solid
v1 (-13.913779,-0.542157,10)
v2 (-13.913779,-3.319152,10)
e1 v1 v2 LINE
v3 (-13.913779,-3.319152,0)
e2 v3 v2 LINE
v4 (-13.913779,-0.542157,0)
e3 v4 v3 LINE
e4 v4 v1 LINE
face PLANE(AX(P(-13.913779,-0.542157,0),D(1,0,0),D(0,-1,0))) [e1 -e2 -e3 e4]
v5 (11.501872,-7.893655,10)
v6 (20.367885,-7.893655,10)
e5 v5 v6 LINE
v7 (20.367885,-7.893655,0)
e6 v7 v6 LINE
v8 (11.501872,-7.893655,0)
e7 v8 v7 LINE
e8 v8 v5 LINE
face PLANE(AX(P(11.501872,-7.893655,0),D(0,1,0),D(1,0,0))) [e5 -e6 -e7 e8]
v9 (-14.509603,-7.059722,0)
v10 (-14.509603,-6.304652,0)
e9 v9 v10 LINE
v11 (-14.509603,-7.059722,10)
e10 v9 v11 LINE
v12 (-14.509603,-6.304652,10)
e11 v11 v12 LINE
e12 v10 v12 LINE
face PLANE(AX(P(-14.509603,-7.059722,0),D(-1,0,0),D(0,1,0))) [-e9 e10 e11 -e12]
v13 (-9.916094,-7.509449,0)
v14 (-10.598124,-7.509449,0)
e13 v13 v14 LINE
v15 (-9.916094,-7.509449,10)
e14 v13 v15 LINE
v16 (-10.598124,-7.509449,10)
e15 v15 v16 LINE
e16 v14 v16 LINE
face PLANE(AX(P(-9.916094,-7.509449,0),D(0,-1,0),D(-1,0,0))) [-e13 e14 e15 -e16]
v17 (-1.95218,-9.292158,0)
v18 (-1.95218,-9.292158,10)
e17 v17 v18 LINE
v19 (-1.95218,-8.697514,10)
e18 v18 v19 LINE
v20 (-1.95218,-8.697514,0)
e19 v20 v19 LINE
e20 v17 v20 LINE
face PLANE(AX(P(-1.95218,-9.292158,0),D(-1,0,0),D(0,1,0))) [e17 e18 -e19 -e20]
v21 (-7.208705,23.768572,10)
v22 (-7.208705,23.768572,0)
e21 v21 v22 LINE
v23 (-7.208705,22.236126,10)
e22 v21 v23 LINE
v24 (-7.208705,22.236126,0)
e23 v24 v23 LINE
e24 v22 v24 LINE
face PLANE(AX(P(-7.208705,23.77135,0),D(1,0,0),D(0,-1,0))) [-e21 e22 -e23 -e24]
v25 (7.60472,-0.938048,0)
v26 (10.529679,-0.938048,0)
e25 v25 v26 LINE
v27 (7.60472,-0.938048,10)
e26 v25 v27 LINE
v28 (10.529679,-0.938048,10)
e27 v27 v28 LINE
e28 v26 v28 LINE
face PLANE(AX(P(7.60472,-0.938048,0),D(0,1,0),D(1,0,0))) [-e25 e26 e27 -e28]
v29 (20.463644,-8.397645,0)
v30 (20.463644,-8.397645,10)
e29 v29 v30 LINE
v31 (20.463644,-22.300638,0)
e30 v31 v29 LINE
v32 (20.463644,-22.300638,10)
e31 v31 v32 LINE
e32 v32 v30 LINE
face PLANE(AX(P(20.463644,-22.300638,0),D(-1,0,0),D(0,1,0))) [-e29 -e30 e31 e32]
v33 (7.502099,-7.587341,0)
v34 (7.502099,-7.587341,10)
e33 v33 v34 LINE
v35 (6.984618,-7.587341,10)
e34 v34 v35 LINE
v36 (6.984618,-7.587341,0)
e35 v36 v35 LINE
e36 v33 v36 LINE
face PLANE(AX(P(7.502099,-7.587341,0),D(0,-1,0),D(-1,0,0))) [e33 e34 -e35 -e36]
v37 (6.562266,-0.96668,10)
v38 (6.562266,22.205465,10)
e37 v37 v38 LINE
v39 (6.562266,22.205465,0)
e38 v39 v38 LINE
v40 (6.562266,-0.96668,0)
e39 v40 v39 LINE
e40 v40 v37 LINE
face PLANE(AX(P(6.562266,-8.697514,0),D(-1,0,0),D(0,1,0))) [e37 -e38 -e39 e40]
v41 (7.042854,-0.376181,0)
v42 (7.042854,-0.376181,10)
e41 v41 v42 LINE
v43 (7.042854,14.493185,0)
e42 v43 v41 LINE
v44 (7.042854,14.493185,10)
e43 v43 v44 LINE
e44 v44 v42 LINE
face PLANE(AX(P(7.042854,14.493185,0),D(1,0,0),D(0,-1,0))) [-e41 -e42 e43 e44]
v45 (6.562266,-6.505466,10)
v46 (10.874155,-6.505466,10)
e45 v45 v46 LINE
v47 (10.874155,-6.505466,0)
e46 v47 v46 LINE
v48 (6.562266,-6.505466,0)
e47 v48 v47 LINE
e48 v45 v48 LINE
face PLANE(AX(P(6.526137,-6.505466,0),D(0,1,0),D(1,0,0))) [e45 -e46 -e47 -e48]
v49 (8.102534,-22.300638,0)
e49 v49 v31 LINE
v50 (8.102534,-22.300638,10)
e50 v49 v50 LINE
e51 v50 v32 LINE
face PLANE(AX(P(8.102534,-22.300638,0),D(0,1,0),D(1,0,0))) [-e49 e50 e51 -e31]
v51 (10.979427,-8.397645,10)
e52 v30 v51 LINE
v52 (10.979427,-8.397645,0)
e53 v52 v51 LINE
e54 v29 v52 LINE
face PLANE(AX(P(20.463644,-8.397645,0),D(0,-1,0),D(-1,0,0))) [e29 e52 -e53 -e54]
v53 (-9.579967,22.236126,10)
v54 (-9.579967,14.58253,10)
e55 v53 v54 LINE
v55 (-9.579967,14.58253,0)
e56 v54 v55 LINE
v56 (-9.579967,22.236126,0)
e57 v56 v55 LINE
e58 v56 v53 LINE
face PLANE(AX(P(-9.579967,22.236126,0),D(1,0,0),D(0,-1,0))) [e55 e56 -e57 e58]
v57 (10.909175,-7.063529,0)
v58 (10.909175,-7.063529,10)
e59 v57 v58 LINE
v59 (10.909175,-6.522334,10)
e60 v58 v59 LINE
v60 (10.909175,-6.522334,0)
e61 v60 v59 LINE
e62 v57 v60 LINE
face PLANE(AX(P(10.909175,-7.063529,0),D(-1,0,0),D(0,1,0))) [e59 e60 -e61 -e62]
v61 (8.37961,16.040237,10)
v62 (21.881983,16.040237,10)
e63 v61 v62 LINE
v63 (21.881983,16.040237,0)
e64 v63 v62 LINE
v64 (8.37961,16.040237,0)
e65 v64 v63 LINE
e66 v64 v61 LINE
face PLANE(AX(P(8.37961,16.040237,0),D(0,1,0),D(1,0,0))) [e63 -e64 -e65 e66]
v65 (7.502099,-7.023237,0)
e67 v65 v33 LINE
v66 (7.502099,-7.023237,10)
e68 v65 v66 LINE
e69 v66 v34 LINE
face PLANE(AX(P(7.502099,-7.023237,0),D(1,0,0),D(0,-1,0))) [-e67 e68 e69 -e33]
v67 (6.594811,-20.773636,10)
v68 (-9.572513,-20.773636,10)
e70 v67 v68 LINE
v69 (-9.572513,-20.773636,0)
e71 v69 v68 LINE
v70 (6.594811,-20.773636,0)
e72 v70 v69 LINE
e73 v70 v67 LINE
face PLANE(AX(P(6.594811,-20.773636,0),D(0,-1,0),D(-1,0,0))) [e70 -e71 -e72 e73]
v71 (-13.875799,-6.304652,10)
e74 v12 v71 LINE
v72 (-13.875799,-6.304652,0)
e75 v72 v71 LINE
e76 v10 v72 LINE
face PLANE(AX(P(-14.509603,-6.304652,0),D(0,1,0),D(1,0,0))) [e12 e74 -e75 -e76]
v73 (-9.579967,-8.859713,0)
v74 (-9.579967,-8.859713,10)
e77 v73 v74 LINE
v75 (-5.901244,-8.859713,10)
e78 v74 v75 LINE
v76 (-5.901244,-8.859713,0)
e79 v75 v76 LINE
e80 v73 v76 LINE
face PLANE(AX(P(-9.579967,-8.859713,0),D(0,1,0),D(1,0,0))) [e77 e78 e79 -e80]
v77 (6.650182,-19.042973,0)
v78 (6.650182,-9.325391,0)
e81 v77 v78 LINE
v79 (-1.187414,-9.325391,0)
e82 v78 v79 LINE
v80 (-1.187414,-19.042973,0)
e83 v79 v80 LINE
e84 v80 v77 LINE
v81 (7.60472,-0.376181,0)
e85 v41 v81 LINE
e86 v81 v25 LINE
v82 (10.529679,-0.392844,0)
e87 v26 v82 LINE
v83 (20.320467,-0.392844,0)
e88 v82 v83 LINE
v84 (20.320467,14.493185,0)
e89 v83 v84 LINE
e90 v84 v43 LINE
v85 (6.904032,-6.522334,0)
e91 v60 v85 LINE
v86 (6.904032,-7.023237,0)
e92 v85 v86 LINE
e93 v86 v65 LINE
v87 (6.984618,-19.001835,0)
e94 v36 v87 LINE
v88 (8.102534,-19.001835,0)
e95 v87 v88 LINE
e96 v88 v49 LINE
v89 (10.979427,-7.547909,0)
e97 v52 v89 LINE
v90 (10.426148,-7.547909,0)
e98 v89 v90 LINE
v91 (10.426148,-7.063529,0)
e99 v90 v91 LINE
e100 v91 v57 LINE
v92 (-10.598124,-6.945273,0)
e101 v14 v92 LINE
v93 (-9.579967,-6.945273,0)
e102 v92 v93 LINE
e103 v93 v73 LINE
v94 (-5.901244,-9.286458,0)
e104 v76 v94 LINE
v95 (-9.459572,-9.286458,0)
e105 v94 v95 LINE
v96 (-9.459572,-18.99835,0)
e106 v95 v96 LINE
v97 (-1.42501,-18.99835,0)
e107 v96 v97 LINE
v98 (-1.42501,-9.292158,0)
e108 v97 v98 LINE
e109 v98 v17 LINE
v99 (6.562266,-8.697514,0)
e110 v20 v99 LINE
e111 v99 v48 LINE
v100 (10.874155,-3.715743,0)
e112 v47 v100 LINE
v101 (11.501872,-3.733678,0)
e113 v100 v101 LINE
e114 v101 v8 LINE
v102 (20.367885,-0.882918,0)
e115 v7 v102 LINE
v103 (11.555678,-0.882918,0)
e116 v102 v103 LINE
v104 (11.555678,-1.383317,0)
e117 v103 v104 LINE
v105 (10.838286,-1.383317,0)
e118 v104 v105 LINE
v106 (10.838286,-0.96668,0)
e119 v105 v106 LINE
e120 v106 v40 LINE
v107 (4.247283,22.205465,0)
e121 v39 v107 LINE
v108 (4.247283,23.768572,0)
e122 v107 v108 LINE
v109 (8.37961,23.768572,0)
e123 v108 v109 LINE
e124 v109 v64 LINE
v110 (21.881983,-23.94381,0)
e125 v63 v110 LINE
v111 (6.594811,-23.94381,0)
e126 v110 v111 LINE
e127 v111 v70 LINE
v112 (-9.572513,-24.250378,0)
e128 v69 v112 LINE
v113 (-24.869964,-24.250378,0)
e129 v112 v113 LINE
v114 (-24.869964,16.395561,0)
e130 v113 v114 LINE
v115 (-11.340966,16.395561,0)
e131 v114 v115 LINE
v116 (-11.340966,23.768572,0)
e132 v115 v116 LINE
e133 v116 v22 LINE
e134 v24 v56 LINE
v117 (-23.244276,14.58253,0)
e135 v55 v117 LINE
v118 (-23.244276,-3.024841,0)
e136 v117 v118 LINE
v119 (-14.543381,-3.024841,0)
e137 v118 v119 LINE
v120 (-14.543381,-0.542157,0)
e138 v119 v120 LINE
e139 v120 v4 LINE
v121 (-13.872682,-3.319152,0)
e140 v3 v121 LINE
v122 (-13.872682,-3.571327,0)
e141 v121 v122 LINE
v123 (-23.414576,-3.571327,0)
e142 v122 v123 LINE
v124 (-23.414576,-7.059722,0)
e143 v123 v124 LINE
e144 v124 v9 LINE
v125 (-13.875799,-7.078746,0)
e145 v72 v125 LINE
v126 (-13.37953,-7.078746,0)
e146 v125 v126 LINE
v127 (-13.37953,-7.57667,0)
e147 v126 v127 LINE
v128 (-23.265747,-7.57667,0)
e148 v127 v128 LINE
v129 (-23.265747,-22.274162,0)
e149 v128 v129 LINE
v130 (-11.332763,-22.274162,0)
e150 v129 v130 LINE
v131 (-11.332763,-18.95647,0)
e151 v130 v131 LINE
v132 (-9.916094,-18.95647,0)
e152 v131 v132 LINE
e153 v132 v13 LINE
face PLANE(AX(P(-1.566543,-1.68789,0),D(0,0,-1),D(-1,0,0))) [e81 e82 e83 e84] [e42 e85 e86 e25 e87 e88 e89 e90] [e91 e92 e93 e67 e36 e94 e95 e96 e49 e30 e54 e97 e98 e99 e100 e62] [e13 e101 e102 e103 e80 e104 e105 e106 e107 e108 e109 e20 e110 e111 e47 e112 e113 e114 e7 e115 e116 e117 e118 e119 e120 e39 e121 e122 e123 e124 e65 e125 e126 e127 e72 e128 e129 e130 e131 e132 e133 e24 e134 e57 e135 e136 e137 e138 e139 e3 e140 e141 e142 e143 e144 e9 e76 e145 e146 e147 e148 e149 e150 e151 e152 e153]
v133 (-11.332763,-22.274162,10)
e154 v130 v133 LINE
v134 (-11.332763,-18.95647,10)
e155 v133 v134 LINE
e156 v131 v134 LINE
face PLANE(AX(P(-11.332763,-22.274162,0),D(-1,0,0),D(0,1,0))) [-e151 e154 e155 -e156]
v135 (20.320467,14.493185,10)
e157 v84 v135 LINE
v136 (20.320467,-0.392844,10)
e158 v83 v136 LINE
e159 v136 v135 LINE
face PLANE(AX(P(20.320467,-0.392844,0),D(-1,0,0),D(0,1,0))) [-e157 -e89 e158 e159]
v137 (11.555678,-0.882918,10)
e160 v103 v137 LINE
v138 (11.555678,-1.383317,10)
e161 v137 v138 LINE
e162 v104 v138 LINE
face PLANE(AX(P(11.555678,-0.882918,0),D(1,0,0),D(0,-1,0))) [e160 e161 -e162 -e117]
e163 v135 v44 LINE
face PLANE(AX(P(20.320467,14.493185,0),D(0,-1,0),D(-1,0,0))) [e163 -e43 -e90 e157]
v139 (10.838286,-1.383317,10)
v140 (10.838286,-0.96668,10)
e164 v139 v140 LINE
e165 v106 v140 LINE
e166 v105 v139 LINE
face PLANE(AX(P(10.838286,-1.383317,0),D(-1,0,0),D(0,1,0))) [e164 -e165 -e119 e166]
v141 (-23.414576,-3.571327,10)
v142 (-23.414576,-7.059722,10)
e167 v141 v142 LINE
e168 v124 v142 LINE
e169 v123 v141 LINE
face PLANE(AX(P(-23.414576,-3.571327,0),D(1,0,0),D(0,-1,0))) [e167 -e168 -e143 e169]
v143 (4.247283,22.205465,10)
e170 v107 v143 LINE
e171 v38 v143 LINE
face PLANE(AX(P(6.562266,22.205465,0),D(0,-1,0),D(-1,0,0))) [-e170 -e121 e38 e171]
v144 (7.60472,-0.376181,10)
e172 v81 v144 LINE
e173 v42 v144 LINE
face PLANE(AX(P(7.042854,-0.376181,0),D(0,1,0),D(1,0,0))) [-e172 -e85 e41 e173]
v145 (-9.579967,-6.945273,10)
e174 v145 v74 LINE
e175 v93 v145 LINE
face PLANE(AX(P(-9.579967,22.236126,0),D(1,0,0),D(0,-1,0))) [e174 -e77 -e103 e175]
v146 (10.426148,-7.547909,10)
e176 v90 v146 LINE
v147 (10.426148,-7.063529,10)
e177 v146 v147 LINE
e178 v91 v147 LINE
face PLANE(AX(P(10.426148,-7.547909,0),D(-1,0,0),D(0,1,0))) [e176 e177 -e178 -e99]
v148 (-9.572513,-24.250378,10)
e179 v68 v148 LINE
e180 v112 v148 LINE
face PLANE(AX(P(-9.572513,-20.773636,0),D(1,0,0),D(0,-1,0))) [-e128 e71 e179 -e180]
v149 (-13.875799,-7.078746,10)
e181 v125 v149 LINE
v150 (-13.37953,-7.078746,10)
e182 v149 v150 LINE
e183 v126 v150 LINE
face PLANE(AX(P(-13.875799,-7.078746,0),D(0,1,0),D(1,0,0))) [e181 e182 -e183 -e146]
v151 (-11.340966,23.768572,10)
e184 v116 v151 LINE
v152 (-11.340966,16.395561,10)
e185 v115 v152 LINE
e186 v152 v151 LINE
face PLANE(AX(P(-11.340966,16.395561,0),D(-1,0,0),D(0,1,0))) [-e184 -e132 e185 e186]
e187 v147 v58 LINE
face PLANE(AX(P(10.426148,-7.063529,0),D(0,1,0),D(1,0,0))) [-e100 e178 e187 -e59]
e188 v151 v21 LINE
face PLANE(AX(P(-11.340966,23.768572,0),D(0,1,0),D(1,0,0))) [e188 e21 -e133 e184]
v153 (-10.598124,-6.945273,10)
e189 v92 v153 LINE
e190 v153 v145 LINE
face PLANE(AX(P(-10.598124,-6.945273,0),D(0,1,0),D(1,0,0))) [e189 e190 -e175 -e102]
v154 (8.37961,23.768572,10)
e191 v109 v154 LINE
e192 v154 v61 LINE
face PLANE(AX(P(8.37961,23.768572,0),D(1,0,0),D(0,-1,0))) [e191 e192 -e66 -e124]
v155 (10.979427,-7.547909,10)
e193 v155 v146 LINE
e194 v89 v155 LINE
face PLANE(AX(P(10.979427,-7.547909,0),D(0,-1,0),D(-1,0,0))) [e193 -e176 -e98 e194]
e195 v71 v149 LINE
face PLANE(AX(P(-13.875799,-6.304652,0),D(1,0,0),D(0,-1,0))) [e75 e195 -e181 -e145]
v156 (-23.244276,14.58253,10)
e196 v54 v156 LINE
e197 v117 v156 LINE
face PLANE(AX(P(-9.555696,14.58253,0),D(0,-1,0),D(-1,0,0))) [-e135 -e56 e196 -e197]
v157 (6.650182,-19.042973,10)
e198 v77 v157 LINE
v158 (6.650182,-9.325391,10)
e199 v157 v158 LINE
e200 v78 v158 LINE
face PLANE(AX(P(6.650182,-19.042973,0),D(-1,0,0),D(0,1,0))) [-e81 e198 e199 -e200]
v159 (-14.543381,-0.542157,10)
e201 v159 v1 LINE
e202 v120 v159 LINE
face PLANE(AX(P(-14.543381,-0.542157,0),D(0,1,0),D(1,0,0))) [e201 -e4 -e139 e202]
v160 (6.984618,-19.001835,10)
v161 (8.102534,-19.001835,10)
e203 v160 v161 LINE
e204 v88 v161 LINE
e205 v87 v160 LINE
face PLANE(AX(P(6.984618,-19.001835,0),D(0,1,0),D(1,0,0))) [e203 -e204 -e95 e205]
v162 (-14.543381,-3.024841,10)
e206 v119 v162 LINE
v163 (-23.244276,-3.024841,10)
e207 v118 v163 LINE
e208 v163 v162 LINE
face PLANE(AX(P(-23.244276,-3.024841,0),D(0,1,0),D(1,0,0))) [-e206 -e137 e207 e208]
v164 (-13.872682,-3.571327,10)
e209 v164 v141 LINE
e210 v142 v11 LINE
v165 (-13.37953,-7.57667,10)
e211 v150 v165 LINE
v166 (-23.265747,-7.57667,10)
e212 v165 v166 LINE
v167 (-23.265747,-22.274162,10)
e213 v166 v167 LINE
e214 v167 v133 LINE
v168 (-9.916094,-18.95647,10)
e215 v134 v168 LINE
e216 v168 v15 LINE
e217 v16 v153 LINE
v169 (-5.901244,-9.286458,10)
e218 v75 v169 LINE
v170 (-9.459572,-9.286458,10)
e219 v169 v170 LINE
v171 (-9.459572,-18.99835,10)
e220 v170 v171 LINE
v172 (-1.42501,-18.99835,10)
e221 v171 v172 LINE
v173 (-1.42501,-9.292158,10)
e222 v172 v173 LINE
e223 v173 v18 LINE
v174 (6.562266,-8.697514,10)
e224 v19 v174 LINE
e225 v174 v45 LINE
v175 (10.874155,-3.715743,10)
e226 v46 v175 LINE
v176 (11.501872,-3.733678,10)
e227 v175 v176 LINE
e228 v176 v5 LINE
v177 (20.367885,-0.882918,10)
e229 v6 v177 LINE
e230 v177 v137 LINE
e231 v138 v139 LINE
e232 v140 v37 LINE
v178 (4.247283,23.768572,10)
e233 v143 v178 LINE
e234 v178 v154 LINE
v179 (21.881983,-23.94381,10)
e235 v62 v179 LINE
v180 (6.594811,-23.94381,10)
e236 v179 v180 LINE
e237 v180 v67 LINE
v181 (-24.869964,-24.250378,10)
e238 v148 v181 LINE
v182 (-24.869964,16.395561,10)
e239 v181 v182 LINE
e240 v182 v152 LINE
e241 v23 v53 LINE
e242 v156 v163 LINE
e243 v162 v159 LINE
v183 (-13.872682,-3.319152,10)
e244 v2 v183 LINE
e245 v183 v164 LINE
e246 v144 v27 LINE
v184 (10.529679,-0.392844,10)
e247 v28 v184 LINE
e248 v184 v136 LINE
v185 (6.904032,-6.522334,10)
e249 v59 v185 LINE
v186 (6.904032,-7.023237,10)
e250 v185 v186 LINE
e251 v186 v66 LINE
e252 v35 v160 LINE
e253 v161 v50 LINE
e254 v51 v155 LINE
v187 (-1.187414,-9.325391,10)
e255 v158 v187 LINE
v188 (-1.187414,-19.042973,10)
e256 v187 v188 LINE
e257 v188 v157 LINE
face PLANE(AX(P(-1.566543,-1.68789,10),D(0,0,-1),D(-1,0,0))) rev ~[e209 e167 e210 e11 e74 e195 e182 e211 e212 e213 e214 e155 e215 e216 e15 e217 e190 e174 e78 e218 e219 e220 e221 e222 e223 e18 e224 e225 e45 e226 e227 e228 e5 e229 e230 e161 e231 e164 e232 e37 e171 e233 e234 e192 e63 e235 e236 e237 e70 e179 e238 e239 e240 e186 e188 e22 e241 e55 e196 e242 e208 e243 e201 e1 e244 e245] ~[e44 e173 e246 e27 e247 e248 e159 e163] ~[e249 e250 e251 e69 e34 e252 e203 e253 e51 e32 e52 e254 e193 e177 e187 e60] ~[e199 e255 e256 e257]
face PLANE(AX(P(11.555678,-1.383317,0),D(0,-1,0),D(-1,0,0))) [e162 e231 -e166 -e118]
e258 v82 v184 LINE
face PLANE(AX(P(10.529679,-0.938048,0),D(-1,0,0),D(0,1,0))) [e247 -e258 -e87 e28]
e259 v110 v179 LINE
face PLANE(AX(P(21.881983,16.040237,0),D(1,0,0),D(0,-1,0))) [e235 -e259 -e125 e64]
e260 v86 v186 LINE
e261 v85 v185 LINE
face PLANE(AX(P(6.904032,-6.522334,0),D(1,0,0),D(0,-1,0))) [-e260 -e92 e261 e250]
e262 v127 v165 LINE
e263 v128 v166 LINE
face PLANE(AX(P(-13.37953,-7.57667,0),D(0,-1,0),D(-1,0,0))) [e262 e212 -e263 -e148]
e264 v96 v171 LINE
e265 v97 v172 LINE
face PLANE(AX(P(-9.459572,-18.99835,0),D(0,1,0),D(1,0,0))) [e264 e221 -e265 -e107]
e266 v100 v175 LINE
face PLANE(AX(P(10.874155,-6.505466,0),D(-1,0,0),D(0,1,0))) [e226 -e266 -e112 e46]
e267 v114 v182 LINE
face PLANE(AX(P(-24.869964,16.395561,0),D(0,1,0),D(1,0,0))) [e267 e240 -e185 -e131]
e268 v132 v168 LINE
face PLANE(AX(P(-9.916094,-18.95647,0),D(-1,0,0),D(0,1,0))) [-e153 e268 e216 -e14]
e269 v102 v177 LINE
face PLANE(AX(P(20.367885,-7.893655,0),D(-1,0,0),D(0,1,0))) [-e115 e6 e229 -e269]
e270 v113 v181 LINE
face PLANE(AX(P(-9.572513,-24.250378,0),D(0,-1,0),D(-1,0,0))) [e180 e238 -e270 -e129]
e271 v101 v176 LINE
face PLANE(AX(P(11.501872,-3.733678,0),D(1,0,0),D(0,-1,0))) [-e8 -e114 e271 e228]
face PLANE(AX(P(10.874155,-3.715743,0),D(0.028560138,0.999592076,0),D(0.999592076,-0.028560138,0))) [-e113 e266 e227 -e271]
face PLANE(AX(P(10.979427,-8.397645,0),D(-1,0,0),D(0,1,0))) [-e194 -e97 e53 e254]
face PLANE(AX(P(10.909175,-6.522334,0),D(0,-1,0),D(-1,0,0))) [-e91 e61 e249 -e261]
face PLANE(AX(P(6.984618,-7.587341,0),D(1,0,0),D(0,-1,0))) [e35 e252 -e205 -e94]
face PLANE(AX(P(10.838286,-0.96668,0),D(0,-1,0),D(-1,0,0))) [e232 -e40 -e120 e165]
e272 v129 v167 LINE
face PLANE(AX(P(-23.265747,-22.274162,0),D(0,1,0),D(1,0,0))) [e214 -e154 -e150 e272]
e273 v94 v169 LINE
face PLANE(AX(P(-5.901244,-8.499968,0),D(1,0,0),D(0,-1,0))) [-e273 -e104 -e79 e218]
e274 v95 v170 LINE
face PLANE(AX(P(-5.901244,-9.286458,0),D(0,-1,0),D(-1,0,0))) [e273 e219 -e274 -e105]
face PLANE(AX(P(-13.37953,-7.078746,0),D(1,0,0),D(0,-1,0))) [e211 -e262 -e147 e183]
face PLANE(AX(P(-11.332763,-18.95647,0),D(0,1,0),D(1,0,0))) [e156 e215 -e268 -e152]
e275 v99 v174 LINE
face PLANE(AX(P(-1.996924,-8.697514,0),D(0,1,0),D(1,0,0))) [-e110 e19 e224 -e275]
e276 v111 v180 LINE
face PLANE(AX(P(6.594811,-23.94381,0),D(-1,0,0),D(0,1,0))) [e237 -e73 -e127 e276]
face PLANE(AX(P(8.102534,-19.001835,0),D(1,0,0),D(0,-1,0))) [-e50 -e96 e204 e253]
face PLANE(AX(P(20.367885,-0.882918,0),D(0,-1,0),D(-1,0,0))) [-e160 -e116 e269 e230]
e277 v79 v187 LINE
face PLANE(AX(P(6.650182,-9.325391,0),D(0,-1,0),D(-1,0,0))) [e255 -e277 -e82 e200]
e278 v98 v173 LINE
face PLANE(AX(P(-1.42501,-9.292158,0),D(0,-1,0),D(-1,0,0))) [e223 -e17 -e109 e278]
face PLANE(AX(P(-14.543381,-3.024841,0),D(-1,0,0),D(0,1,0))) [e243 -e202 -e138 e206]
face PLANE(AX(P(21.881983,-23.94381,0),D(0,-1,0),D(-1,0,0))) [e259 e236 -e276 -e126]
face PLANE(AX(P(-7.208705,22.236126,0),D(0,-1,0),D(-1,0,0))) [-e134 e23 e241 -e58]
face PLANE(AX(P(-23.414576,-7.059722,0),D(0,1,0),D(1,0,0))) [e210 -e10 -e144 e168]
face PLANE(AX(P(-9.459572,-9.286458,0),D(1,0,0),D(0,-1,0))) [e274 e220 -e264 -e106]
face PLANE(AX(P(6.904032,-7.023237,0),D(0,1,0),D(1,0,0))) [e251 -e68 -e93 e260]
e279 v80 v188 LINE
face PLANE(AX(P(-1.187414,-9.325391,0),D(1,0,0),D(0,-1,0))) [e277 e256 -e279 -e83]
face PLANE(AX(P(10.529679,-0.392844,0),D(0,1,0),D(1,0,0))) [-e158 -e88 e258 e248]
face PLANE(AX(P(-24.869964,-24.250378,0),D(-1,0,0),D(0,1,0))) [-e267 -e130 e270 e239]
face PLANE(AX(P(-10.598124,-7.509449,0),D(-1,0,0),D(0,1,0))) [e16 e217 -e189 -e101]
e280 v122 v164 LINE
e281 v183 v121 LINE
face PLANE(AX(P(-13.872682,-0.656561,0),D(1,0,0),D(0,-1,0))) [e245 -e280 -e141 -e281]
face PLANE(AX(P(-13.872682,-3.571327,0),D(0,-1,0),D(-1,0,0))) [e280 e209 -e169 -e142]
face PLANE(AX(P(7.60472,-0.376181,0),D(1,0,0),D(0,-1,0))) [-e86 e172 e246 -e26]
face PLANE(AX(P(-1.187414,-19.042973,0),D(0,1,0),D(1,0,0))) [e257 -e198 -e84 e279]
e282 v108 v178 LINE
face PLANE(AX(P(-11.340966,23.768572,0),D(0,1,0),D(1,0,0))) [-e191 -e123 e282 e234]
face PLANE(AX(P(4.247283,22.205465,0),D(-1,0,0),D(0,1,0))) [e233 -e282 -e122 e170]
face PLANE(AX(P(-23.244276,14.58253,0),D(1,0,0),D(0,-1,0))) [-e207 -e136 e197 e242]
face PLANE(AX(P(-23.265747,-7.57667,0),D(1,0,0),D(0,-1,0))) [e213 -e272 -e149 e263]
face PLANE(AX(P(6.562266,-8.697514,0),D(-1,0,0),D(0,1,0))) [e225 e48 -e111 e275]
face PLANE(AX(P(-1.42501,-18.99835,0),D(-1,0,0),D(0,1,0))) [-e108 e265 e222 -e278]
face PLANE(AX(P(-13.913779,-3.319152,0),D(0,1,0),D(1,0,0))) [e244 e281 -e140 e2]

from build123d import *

# Parameters (mm, degrees)
PAD_DEPTH            = 10
POCKET_DEPTH         = 0.001
POCKET_DEPTH_BACK    = 10.001
POCKET001_DEPTH      = 0.001
POCKET001_DEPTH_BACK = 10.001
POCKET002_DEPTH      = 0.001
POCKET002_DEPTH_BACK = 10.001
POCKET003_DEPTH      = 0.001
POCKET003_DEPTH_BACK = 10.001
POCKET004_DEPTH      = 0.001
POCKET004_DEPTH_BACK = 10.001
POCKET005_DEPTH      = 0.001
POCKET005_DEPTH_BACK = 10.001
POCKET006_DEPTH      = 0.001
POCKET006_DEPTH_BACK = 10.001
POCKET007_DEPTH      = 0.001
POCKET007_DEPTH_BACK = 10.001


with BuildPart() as part:
    # Sketch → Pad (new body)
    with BuildSketch(Plane.XY):
        Polygon((-24.869964, 16.395561), (-11.340966, 16.395561), (-11.340966, 23.768572), (8.37961, 23.768572), (8.37961, 16.040237), (21.881983, 16.040237), (21.881983, -23.94381), (6.594811, -23.94381), (6.594811, -20.773636), (-9.572513, -20.773636), (-9.572513, -24.250378), (-24.869964, -24.250378), align=None)
    extrude(amount=PAD_DEPTH)

    # Sketch001 → Pocket (cut, two sides)
    with BuildSketch(Plane.XY) as pocket_sk:
        Polygon((7.042854, 14.493185), (7.042854, -0.376181), (7.60472, -0.376181), (7.60472, -0.938048), (10.529679, -0.938048), (10.529679, -0.392844), (20.320467, -0.392844), (20.320467, 4.433404), (20.320467, 12.107393), (20.320467, 14.493185), (11.347224, 14.493185), (7.737097, 14.493185), align=None)
    extrude(amount=-POCKET_DEPTH, mode=Mode.SUBTRACT)
    extrude(pocket_sk.sketch, amount=POCKET_DEPTH_BACK, mode=Mode.SUBTRACT)

    # Sketch002 → Pocket001 (cut, two sides)
    with BuildSketch(Plane.XY) as pocket001_sk:
        Polygon((6.562266, -8.697514), (6.562266, 17.730482), (6.562266, 20.972402), (6.562266, 22.205465), (4.247283, 22.205465), (4.247283, 23.77135), (-7.208705, 23.77135), (-7.208705, 22.236126), (-9.579967, 22.236126), (-9.579967, 20.501596), (-9.579967, 17.725863), (-9.579967, -8.859713), (-5.78053, -8.859713), (-5.78053, -9.246999), (-1.996924, -9.246999), (-1.996924, -8.697514), align=None)
    extrude(amount=-POCKET001_DEPTH, mode=Mode.SUBTRACT)
    extrude(pocket001_sk.sketch, amount=POCKET001_DEPTH_BACK, mode=Mode.SUBTRACT)

    # Sketch003 → Pocket002 (cut, two sides)
    with BuildSketch(Plane.XY) as pocket002_sk:
        Polygon((-9.555696, 14.58253), (-11.251103, 14.58253), (-14.140704, 14.58253), (-23.244276, 14.58253), (-23.244276, 10.916287), (-23.244276, 3.175509), (-23.244276, -3.024841), (-14.543381, -3.024841), (-14.543381, -0.542157), (-13.913779, -0.542157), (-13.913779, -3.319152), (-9.555696, -3.319152), align=None)
    extrude(amount=-POCKET002_DEPTH, mode=Mode.SUBTRACT)
    extrude(pocket002_sk.sketch, amount=POCKET002_DEPTH_BACK, mode=Mode.SUBTRACT)

    # Sketch004 → Pocket003 (cut, two sides)
    with BuildSketch(Plane.XY) as pocket003_sk:
        Polygon((-23.265747, -7.57667), (-23.265747, -22.274162), (-20.999838, -22.274162), (-13.232408, -22.274162), (-11.332763, -22.274162), (-11.332763, -18.95647), (-9.916094, -18.95647), (-9.916094, -7.509449), (-10.598124, -7.509449), (-10.598124, -6.945273), (-9.384972, -6.945273), (-9.384972, -0.656561), (-13.872682, -0.656561), (-13.872682, -3.571327), (-23.414576, -3.571327), (-23.414576, -7.059722), (-14.509603, -7.059722), (-14.509603, -6.304652), (-13.875799, -6.304652), (-13.875799, -7.078746), (-13.37953, -7.078746), (-13.37953, -7.57667), align=None)
    extrude(amount=-POCKET003_DEPTH, mode=Mode.SUBTRACT)
    extrude(pocket003_sk.sketch, amount=POCKET003_DEPTH_BACK, mode=Mode.SUBTRACT)

    # Sketch005 → Pocket004 (cut, two sides)
    with BuildSketch(Plane.XY) as pocket004_sk:
        Polygon((-9.459572, -9.286458), (-9.459572, -18.99835), (-6.993228, -18.99835), (-2.81149, -18.99835), (-1.42501, -18.99835), (-1.42501, -9.292158), (-1.95218, -9.292158), (-1.95218, -8.499968), (-5.901244, -8.499968), (-5.901244, -9.286458), align=None)
    extrude(amount=-POCKET004_DEPTH, mode=Mode.SUBTRACT)
    extrude(pocket004_sk.sketch, amount=POCKET004_DEPTH_BACK, mode=Mode.SUBTRACT)

    # Sketch006 → Pocket005 (cut, two sides)
    with BuildSketch(Plane.XY) as pocket005_sk:
        Polygon((-1.187414, -9.325391), (-1.187414, -19.042973), (3.81931, -19.042973), (6.650182, -19.042973), (6.650182, -9.325391), align=None)
    extrude(amount=-POCKET005_DEPTH, mode=Mode.SUBTRACT)
    extrude(pocket005_sk.sketch, amount=POCKET005_DEPTH_BACK, mode=Mode.SUBTRACT)

    # Sketch007 → Pocket006 (cut, two sides)
    with BuildSketch(Plane.XY) as pocket006_sk:
        Polygon((6.904032, -6.522334), (6.904032, -7.023237), (7.502099, -7.023237), (7.502099, -7.587341), (6.984618, -7.587341), (6.984618, -19.001835), (8.102534, -19.001835), (8.102534, -22.300638), (10.341199, -22.300638), (18.38561, -22.300638), (20.463644, -22.300638), (20.463644, -8.397645), (10.979427, -8.397645), (10.979427, -7.547909), (10.426148, -7.547909), (10.426148, -7.063529), (10.909175, -7.063529), (10.909175, -6.522334), align=None)
    extrude(amount=-POCKET006_DEPTH, mode=Mode.SUBTRACT)
    extrude(pocket006_sk.sketch, amount=POCKET006_DEPTH_BACK, mode=Mode.SUBTRACT)

    # Sketch008 → Pocket007 (cut, two sides)
    with BuildSketch(Plane.XY) as pocket007_sk:
        Polygon((11.501872, -3.733678), (11.501872, -7.893655), (20.367885, -7.893655), (20.367885, -5.953888), (20.367885, -2.59785), (20.367885, -0.882918), (11.555678, -0.882918), (11.555678, -1.383317), (10.838286, -1.383317), (10.838286, -0.96668), (6.526137, -0.96668), (6.526137, -6.505466), (10.874155, -6.505466), (10.874155, -3.715743), align=None)
    extrude(amount=-POCKET007_DEPTH, mode=Mode.SUBTRACT)
    extrude(pocket007_sk.sketch, amount=POCKET007_DEPTH_BACK, mode=Mode.SUBTRACT)


solid = part.part
